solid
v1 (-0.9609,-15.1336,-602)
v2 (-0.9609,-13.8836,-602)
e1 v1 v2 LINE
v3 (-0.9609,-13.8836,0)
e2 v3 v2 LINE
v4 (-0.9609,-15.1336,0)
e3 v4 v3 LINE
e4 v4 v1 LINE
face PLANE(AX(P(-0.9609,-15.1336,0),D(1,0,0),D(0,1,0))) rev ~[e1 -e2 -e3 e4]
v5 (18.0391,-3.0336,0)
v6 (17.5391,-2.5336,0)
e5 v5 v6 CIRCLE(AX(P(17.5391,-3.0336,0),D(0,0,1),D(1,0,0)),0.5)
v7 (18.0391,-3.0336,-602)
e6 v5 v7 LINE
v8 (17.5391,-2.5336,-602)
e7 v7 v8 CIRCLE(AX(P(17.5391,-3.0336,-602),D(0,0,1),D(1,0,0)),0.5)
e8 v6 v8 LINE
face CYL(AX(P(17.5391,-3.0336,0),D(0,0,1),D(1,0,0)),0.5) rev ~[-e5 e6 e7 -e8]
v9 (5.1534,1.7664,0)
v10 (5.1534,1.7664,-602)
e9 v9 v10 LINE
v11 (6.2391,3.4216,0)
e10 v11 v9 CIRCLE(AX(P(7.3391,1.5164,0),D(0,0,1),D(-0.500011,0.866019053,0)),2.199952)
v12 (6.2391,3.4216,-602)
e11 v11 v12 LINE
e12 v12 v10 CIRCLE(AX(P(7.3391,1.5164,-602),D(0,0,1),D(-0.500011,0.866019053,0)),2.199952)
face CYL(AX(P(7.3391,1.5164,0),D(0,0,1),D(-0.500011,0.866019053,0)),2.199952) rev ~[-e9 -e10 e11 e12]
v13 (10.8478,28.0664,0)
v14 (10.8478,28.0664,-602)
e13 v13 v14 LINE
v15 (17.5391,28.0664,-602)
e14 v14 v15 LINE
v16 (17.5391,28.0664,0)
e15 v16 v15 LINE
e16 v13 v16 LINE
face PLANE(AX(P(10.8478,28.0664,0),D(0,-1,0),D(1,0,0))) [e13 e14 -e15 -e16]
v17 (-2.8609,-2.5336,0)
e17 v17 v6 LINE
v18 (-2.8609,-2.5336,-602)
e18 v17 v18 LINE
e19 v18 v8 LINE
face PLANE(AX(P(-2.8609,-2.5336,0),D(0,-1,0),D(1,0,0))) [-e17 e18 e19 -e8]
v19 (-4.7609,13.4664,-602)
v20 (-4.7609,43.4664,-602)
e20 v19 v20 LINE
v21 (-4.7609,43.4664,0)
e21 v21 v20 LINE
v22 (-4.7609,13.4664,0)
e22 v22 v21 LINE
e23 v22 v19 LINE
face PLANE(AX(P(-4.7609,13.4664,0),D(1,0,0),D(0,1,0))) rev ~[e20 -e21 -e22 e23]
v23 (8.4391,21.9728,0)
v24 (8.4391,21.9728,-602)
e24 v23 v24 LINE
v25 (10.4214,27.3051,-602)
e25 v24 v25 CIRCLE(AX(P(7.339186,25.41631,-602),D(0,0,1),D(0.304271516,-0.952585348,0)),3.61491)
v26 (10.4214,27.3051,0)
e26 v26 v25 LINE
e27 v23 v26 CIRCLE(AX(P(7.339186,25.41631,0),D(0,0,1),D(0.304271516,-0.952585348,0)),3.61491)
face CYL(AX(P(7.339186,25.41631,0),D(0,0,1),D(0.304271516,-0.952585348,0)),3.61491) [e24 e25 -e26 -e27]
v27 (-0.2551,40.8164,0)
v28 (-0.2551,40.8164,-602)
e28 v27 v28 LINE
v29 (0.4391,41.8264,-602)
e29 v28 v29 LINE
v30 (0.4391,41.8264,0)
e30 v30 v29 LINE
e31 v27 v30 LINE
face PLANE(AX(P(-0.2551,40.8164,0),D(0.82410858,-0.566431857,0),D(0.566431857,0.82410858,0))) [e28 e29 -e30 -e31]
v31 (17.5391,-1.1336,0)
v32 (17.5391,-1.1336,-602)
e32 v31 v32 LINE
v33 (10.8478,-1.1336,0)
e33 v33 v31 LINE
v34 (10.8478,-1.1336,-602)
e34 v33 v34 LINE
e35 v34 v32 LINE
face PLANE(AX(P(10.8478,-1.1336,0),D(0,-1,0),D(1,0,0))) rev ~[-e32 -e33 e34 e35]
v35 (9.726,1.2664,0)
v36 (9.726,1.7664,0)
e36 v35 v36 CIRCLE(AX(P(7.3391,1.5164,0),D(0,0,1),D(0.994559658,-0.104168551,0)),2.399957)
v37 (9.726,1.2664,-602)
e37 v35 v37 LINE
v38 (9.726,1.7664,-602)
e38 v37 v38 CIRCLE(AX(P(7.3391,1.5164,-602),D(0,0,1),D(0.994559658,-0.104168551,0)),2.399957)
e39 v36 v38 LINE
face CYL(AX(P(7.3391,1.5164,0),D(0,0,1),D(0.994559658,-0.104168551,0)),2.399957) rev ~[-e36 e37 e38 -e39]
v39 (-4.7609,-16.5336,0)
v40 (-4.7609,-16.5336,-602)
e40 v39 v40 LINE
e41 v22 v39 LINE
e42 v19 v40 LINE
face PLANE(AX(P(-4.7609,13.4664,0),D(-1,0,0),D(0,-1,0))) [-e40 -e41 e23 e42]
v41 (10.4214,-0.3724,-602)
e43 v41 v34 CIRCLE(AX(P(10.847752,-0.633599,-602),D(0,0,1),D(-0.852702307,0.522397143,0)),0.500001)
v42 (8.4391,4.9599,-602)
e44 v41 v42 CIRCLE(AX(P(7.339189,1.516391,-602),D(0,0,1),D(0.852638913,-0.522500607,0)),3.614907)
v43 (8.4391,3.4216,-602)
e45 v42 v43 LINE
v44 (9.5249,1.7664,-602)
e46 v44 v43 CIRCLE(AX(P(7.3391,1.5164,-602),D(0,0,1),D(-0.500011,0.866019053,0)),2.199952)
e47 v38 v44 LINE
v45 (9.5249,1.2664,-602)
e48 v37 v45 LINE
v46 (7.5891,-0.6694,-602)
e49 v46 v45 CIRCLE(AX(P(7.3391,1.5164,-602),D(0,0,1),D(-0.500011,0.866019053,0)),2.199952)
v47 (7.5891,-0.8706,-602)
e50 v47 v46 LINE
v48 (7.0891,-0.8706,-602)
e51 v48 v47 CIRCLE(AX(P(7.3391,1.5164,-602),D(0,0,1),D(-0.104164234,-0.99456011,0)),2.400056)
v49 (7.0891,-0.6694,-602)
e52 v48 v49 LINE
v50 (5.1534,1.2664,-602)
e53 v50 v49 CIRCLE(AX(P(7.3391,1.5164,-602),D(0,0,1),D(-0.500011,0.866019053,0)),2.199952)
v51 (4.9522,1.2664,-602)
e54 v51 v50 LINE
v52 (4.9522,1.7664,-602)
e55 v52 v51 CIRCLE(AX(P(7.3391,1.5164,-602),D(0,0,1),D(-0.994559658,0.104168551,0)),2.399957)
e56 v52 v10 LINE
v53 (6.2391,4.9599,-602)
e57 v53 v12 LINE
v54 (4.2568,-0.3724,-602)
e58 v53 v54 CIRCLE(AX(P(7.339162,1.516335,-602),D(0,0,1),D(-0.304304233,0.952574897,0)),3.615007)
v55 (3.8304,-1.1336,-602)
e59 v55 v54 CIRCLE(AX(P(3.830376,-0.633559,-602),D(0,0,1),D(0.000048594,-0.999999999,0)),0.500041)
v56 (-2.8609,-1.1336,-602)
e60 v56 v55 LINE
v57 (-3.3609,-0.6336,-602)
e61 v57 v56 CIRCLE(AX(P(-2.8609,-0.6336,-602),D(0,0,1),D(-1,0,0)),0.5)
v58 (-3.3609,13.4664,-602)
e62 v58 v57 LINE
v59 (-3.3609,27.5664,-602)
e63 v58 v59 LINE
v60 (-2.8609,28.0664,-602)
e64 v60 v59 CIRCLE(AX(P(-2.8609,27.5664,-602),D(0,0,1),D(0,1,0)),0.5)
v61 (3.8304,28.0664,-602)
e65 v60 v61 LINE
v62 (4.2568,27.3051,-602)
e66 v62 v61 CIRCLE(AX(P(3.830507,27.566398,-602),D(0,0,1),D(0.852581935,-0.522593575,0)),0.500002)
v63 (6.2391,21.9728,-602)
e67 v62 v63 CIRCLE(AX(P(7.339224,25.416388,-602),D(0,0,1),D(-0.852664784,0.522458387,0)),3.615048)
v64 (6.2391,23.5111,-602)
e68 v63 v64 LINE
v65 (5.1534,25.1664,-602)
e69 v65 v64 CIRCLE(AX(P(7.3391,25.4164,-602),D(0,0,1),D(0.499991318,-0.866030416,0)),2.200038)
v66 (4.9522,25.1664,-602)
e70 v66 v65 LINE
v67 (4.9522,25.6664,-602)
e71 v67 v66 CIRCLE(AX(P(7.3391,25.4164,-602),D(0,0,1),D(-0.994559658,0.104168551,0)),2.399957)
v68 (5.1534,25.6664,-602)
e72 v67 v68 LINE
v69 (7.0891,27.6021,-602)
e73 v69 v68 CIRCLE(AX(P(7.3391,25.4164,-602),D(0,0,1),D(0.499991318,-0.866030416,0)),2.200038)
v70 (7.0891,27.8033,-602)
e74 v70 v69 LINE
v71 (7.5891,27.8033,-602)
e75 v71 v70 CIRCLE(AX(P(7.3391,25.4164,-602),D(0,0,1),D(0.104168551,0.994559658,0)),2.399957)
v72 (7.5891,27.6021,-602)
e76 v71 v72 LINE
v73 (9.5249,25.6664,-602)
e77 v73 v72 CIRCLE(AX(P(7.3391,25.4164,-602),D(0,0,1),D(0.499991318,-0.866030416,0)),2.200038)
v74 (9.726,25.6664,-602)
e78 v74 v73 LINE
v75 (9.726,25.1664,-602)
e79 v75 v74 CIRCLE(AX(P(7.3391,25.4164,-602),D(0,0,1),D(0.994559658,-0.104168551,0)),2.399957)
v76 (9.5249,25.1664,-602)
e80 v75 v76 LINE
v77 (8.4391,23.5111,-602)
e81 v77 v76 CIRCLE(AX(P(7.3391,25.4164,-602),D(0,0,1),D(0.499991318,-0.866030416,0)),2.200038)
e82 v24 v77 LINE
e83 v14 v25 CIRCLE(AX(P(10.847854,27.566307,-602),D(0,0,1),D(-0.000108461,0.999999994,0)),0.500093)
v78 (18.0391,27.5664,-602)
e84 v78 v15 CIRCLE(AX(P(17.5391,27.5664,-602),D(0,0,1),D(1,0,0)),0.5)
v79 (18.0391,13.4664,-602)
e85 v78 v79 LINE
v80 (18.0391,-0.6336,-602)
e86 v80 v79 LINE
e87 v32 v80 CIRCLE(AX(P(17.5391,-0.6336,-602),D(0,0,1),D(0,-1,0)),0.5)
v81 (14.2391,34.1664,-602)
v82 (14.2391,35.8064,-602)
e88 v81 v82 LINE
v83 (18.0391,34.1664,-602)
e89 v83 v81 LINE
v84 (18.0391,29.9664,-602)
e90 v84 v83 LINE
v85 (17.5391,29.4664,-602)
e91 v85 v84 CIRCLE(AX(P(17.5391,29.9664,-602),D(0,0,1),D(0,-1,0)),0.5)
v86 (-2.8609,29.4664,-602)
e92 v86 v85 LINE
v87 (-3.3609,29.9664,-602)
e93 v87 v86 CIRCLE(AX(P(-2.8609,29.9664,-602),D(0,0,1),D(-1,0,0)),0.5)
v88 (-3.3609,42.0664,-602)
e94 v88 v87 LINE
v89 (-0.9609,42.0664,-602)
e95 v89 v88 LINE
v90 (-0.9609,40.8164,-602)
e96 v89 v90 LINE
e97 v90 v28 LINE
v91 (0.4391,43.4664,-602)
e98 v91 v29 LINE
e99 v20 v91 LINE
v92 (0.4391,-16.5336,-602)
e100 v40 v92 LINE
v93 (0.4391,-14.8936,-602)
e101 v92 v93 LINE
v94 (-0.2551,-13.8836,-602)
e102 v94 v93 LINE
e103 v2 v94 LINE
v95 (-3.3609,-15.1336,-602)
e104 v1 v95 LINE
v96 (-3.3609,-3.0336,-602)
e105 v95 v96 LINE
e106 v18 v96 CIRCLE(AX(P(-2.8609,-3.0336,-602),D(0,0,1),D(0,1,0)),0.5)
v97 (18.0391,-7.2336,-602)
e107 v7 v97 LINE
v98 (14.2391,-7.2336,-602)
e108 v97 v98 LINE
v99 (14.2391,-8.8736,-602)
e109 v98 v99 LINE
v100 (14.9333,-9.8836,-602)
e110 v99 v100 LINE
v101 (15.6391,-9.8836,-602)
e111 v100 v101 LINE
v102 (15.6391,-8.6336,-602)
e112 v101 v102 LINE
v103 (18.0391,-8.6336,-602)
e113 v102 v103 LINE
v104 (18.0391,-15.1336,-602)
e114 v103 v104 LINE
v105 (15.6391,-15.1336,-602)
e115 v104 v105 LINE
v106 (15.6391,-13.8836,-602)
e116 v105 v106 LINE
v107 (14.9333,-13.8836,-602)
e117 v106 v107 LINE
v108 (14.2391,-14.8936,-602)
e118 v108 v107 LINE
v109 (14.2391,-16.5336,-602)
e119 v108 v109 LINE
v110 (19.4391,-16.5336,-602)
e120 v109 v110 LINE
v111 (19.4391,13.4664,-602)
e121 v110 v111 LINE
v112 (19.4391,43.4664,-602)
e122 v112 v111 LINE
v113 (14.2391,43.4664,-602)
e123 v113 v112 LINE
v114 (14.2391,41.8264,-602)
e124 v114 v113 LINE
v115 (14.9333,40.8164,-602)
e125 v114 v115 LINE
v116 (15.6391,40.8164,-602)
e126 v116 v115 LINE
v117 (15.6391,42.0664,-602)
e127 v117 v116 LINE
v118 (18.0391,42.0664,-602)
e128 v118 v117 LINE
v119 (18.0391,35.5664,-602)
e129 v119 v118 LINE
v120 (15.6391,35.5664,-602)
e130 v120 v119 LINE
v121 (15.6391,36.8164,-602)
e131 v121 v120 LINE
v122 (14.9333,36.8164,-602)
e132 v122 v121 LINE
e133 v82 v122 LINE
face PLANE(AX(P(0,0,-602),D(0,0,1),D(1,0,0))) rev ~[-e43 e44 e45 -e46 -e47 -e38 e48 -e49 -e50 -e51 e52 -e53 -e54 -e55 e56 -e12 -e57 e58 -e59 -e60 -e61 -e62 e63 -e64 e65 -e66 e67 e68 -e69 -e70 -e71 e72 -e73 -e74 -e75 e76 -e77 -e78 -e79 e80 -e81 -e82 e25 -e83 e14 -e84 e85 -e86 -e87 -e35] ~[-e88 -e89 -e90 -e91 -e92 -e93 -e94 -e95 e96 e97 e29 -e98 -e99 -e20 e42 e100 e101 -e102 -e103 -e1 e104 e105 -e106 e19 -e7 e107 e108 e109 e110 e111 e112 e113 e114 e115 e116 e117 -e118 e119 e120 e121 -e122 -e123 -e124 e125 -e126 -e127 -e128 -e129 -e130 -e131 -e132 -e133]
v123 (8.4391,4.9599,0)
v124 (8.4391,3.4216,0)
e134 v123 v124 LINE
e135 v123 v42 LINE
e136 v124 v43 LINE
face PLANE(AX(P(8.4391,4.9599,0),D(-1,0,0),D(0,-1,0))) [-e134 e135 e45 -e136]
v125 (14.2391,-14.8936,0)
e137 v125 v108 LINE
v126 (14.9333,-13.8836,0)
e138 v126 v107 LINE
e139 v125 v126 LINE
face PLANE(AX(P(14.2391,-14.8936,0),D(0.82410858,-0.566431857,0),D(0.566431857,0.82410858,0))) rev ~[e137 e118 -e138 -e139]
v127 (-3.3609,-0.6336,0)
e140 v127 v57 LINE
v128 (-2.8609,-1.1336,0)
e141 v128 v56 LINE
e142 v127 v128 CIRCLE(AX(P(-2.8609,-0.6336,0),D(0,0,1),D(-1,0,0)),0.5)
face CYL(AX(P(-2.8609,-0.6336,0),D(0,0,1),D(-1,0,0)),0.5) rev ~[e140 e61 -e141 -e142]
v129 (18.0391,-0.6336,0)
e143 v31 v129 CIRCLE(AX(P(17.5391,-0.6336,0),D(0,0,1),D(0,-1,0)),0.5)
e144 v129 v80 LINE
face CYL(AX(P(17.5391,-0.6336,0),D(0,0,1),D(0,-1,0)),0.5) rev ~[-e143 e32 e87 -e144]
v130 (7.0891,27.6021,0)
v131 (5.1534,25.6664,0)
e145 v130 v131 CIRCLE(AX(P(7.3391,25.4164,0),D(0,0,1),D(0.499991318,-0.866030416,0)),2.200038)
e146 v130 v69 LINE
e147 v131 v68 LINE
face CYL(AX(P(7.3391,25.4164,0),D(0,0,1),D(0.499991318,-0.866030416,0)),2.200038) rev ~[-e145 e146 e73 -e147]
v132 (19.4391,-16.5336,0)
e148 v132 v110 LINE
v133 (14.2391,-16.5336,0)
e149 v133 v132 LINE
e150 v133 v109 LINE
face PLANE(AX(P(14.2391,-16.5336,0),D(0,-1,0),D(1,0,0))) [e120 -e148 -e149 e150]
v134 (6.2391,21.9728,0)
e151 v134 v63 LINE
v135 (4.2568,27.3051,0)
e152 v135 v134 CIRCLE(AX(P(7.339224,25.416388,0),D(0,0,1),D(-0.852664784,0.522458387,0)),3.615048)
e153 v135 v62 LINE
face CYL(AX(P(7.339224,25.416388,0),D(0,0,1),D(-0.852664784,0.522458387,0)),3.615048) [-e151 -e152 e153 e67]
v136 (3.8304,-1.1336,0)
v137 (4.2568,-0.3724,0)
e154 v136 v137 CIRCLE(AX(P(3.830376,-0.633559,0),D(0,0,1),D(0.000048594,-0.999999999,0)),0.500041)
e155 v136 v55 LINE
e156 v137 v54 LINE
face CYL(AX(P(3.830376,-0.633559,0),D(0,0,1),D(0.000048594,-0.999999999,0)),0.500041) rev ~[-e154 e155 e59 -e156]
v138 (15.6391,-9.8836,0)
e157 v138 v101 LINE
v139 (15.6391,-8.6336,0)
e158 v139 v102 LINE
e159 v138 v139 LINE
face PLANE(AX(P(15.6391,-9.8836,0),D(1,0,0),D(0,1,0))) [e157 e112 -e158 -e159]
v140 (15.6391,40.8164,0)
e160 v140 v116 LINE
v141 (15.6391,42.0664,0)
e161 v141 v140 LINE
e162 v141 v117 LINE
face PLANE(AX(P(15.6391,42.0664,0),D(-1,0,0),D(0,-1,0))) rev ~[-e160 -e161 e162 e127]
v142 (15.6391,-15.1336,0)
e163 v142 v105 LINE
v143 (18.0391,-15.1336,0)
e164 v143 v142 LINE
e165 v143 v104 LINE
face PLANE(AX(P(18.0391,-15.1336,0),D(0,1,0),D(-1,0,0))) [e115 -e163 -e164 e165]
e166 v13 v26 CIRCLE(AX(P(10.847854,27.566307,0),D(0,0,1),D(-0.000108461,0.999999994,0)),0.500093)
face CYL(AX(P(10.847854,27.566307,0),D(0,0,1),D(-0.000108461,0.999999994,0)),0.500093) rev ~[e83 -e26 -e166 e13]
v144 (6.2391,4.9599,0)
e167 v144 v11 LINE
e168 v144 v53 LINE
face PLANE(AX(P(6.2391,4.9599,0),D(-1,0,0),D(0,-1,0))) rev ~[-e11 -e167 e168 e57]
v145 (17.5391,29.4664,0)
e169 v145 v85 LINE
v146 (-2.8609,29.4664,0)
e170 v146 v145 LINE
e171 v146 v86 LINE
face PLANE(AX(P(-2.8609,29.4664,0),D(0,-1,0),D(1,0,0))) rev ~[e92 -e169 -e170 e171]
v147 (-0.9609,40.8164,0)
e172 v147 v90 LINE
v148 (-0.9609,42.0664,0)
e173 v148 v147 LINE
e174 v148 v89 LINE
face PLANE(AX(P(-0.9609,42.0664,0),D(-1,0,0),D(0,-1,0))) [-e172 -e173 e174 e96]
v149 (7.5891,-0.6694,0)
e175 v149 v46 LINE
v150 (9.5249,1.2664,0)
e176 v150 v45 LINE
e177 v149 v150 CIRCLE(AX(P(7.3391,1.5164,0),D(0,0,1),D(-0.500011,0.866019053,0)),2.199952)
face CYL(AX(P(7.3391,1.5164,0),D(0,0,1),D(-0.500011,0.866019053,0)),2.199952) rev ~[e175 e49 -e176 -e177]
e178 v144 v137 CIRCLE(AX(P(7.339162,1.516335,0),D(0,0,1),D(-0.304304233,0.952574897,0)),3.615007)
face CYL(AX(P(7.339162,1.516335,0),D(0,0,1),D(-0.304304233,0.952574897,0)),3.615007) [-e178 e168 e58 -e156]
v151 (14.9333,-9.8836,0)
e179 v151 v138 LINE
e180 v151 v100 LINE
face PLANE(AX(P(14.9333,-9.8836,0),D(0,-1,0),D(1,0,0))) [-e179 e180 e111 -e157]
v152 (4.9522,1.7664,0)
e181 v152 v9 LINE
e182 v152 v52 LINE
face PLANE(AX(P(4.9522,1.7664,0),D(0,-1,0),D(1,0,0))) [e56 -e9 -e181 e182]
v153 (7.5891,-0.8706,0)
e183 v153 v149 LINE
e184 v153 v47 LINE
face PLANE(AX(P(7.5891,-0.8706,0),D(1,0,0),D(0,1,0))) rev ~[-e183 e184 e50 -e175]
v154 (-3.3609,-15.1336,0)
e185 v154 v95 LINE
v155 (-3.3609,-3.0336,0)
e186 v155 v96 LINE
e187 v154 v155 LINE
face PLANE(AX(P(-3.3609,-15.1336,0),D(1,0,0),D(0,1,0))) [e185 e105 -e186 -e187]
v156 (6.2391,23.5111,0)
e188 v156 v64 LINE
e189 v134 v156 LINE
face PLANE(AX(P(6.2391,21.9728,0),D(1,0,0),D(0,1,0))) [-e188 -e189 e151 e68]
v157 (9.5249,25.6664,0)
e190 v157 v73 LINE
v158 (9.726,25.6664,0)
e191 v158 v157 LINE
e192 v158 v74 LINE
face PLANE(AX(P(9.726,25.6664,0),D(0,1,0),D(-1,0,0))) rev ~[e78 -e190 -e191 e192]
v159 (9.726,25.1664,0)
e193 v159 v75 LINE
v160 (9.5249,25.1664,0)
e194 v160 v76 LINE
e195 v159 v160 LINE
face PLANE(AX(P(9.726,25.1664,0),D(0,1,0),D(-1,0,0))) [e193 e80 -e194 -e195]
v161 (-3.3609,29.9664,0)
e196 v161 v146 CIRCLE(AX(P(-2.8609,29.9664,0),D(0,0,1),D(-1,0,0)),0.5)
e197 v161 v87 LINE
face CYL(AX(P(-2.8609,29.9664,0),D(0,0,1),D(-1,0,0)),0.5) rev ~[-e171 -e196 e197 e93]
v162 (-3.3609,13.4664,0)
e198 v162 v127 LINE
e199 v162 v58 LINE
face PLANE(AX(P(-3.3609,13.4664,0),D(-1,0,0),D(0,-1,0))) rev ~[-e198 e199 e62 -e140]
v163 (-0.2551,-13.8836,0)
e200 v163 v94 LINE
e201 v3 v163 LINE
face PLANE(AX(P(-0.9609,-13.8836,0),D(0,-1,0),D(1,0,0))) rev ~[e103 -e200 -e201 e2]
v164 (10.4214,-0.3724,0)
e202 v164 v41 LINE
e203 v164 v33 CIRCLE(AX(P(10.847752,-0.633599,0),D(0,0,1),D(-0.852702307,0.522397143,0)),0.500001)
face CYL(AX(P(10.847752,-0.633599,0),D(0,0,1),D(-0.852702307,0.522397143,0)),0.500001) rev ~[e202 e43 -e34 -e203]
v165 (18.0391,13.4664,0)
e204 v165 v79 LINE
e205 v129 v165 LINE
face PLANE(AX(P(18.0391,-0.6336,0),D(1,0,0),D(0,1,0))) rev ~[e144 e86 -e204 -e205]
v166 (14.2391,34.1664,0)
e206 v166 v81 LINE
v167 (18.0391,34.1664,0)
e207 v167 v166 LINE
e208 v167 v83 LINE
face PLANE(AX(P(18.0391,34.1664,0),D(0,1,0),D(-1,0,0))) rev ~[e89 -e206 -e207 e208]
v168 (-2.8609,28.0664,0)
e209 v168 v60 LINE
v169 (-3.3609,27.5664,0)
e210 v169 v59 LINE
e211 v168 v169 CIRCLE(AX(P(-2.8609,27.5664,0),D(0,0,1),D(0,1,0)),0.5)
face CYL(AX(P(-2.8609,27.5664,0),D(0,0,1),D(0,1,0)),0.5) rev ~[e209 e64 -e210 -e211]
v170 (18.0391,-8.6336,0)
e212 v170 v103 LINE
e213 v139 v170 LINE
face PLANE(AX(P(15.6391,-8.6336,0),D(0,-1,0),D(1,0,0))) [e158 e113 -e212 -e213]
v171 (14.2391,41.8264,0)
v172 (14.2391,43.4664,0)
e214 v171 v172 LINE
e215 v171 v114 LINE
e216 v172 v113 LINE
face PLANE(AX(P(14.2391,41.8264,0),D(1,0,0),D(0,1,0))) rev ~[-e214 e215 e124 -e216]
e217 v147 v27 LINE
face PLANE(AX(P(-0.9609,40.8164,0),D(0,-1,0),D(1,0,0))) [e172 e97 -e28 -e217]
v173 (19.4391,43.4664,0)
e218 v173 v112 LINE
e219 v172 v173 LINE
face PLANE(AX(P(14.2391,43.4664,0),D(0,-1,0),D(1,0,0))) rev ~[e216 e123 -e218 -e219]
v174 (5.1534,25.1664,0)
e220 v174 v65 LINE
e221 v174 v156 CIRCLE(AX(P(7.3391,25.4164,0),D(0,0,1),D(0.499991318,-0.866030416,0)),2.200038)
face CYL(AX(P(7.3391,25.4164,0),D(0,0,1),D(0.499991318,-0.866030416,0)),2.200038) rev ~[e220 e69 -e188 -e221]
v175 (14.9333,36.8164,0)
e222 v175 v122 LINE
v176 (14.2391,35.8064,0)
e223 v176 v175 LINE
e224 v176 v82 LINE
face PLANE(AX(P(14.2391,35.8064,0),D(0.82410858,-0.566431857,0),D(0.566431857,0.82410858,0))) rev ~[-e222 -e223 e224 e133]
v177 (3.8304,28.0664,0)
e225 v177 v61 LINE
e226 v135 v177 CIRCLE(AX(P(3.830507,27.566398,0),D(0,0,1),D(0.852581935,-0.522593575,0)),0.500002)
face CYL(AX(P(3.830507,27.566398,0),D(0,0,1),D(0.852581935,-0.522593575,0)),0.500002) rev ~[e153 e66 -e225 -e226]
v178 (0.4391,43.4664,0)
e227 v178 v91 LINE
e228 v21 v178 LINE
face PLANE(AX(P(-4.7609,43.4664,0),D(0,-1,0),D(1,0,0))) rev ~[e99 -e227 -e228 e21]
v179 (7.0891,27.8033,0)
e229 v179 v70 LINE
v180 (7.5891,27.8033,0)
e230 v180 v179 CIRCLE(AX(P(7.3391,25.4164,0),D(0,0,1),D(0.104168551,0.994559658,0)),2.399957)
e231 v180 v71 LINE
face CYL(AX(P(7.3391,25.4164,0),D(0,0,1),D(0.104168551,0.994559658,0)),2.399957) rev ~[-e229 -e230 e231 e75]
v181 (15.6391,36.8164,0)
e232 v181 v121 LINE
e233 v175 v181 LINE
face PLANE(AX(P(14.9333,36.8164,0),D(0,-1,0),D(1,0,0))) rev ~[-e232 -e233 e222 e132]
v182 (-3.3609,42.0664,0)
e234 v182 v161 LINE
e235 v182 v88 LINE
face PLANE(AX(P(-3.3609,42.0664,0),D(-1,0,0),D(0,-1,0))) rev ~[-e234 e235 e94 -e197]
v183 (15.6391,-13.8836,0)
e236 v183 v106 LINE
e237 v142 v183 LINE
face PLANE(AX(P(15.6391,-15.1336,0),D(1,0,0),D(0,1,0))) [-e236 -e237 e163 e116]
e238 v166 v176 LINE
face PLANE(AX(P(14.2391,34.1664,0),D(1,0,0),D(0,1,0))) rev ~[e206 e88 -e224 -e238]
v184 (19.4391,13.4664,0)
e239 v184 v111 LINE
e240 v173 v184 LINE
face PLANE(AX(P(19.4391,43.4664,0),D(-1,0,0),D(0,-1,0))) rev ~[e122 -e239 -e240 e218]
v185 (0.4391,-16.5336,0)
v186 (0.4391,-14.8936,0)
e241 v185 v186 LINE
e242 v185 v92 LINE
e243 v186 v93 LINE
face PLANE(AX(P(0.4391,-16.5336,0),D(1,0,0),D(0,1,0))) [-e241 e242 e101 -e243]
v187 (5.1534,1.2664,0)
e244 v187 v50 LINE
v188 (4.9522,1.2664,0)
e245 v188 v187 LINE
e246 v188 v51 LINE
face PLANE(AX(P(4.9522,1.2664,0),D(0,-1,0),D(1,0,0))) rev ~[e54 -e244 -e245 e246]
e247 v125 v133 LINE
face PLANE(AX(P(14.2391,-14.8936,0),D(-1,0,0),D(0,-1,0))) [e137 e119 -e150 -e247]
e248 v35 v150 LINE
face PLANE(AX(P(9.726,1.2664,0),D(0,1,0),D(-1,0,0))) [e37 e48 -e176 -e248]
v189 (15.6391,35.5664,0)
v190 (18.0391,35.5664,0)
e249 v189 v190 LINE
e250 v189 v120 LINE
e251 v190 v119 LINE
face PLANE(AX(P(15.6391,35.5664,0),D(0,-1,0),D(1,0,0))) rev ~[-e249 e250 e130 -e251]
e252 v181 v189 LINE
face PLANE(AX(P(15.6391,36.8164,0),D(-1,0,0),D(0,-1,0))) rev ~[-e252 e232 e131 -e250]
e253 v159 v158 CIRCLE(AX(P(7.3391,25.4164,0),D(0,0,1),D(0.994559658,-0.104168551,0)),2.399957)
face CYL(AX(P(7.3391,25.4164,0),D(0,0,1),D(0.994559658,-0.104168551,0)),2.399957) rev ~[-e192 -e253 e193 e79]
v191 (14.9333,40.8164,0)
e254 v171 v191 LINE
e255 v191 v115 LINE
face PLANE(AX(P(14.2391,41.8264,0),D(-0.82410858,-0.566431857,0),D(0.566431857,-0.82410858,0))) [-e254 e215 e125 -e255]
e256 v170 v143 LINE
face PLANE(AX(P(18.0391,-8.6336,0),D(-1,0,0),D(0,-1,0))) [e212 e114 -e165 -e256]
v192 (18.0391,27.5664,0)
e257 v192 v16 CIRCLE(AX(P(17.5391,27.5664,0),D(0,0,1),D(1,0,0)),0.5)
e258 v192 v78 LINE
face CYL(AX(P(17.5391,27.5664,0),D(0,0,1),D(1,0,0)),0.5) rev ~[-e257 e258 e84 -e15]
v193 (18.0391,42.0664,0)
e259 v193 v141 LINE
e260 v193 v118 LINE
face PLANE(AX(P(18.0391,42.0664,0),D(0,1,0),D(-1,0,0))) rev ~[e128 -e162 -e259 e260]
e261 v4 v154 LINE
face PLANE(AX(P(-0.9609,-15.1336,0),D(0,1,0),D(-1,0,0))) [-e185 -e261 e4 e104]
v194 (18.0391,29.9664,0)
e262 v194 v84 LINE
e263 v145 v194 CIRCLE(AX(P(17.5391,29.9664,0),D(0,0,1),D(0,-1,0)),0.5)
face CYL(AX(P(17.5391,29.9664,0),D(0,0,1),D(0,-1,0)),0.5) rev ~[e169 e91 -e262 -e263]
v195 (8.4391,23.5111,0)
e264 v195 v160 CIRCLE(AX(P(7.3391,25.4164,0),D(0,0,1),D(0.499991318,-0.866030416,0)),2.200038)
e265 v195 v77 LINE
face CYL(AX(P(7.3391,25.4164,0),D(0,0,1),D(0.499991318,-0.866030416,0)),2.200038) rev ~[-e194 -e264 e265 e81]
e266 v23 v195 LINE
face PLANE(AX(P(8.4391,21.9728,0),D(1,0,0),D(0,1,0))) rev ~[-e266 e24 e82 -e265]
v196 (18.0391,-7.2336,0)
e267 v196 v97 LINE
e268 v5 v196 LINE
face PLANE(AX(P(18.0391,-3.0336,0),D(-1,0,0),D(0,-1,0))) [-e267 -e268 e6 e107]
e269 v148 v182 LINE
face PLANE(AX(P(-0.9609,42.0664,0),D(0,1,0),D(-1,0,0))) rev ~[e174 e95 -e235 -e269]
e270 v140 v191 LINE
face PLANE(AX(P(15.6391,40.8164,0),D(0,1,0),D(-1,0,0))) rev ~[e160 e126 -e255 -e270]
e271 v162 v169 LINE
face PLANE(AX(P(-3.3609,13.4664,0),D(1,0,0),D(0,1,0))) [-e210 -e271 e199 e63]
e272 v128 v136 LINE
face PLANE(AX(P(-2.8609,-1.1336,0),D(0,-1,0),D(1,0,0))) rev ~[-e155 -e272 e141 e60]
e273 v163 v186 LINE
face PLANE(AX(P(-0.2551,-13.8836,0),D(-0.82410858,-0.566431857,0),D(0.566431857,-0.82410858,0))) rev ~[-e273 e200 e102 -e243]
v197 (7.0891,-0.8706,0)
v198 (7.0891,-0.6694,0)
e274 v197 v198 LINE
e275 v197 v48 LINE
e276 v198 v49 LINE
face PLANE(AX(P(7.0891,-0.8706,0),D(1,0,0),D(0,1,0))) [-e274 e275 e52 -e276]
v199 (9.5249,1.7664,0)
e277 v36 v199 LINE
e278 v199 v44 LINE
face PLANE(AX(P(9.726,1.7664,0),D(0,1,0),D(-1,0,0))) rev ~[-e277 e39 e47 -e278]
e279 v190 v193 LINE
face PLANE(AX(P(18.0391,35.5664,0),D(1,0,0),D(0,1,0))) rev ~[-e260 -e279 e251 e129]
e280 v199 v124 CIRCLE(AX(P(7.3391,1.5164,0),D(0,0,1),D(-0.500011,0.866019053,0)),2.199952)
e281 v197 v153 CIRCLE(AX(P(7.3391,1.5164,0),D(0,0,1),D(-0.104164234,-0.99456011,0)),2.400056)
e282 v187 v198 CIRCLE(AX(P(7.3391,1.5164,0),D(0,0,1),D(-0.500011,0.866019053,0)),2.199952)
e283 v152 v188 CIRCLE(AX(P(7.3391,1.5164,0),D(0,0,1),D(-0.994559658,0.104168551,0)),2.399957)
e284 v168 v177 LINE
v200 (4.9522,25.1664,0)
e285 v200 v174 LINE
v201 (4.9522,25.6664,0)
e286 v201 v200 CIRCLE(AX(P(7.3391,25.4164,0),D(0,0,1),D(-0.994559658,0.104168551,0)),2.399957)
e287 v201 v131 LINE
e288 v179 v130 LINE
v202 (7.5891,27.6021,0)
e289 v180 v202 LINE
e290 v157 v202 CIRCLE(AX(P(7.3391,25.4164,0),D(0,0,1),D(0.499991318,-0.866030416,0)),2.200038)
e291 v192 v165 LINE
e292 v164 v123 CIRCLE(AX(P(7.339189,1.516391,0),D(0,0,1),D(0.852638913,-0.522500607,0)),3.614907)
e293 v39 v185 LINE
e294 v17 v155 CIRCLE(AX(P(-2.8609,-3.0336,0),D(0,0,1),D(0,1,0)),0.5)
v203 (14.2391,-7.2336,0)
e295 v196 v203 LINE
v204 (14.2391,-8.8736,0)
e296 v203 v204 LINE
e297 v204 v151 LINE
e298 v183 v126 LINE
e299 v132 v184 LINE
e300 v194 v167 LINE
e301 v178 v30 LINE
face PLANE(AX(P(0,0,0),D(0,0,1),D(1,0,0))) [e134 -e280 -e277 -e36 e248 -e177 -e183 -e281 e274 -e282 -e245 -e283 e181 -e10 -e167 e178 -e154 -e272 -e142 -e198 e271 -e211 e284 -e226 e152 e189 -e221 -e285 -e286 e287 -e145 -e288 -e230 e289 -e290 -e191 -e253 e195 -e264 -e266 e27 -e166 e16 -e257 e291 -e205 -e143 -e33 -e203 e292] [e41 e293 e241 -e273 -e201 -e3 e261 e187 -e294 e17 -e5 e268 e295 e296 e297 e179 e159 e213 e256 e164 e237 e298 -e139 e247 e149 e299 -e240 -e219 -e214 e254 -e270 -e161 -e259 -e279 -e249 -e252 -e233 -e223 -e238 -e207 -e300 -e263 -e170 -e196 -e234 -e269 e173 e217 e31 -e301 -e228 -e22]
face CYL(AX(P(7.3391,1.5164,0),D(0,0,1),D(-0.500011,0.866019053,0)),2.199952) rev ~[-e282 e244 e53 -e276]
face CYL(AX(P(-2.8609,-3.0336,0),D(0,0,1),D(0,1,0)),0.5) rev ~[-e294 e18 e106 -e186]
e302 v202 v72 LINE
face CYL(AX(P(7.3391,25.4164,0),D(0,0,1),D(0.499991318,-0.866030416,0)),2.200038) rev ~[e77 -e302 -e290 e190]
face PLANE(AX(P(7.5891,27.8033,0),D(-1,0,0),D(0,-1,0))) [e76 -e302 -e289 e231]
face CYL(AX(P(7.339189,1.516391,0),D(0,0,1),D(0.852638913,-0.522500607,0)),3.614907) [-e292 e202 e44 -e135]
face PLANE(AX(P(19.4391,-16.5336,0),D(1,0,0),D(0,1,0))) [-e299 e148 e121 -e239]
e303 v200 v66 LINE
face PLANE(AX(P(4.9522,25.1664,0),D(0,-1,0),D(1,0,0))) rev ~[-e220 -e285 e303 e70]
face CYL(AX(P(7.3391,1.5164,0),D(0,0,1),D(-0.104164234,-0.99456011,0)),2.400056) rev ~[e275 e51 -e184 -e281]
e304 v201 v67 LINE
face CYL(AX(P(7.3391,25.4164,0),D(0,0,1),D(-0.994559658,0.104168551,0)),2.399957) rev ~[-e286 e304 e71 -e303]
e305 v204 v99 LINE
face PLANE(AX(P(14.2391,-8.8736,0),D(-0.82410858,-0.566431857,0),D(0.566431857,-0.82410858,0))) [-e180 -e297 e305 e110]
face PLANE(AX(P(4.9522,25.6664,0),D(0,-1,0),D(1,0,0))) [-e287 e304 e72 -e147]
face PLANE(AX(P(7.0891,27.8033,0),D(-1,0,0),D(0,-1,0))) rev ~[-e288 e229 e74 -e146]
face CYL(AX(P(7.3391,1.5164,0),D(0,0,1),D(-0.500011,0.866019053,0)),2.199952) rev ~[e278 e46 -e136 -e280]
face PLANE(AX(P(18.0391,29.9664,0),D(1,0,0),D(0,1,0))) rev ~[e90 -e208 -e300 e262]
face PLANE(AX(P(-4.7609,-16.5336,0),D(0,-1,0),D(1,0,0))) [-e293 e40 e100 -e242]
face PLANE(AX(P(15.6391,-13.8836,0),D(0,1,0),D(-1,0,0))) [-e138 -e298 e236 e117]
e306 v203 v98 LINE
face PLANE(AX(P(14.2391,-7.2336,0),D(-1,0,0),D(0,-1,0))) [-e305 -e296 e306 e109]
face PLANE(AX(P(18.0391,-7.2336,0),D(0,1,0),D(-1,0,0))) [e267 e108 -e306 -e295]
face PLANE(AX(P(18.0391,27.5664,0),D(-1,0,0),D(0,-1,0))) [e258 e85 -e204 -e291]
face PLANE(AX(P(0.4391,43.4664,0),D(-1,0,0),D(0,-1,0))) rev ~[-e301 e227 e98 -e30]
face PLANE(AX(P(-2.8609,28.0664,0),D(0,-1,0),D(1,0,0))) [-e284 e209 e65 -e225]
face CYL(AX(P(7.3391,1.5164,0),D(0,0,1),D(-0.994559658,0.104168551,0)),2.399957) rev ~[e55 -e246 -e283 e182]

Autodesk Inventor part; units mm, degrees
ref_plane "YZ Plane" through (0, 0, 0) normal (1, 0, 0) x (0, 1, 0)
ref_plane "XZ Plane" through (0, 0, 0) normal (0, 1, 0) x (-1, 0, 0)
ref_plane "XY Plane" through (0, 0, 0) normal (0, 0, 1) x (1, 0, 0)
sketch "Boceto1" plane through (0, 0, 0) normal (0, 0, 1) x (1, 0, 0)
  line L0 (-4.7609, 13.4664) -> (-4.7609, -16.5336)
  line L1 (-4.7609, -16.5336) -> (0.4391, -16.5336)
  line L2 (0.4391, -16.5336) -> (0.4391, -14.8936)
  line L3 (-0.9609, -15.1336) -> (-3.3609, -15.1336)
  line L4 (-3.3609, -15.1336) -> (-3.3609, -3.0336)
  line L5 (-2.8609, -2.5336) -> (17.5391, -2.5336)
  line L6 (18.0391, -3.0336) -> (18.0391, -7.2336)
  line L7 (18.0391, -7.2336) -> (14.2391, -7.2336)
  line L8 (14.2391, -7.2336) -> (14.2391, -8.8736)
  line L9 (14.9333, -9.8836) -> (15.6391, -9.8836)
  line L10 (15.6391, -9.8836) -> (15.6391, -8.6336)
  line L11 (15.6391, -8.6336) -> (18.0391, -8.6336)
  line L12 (18.0391, -8.6336) -> (18.0391, -15.1336)
  line L13 (18.0391, -15.1336) -> (15.6391, -15.1336)
  line L14 (15.6391, -15.1336) -> (15.6391, -13.8836)
  line L15 (15.6391, -13.8836) -> (14.9333, -13.8836)
  line L16 (14.2391, -14.8936) -> (14.2391, -16.5336)
  line L17 (14.2391, -16.5336) -> (19.4391, -16.5336)
  line L18 (19.4391, -16.5336) -> (19.4391, 13.4664)
  line L19 (-3.3609, 13.4664) -> (-3.3609, -0.6336)
  line L20 (18.0391, -0.6336) -> (18.0391, 13.4664)
  line L21 (7.3391, 11.7517) -> (7.3391, -2.5336) construction
  arc A0 (6.2391, 3.4216) -> (8.4391, 3.4216) centre (7.3391, 1.5164) ccw
  line L22 (-8.4881, 13.4664) -> (24.4446, 13.4664) construction
  line L23 (4.9522, 1.2664) -> (5.1534, 1.2664)
  line L24 (4.9522, 1.7664) -> (5.1534, 1.7664)
  line L25 (-2.8609, -1.1336) -> (3.8304, -1.1336)
  line L26 (10.8478, -1.1336) -> (17.5391, -1.1336)
  line L27 (4.0797, 1.5164) -> (9.7739, 1.5164) construction
  line L28 (9.726, 1.2664) -> (9.5249, 1.2664)
  line L29 (9.726, 1.7664) -> (9.5249, 1.7664)
  line L30 (7.5891, -0.8706) -> (7.5891, -0.6694)
  line L31 (7.0891, -0.8706) -> (7.0891, -0.6694)
  arc A1 (7.0891, -0.8706) -> (7.5891, -0.8706) centre (7.3391, 1.5164) ccw
  arc A2 (9.726, 1.2664) -> (9.726, 1.7664) centre (7.3391, 1.5164) ccw
  arc A3 (4.9522, 1.7664) -> (4.9522, 1.2664) centre (7.3391, 1.5164) ccw
  circle A4 centre (7.3391, 1.5164) radius 2.4 construction
  line L32 (6.2391, 4.9599) -> (6.2391, 3.4216)
  line L33 (8.4391, 4.9599) -> (8.4391, 3.4216)
  arc A5 (10.4214, -0.3724) -> (8.4391, 4.9599) centre (7.3391, 1.5164) ccw
  arc A6 (6.2391, 4.9599) -> (4.2568, -0.3724) centre (7.3391, 1.5164) ccw
  line L34 (-0.9609, -15.1336) -> (-0.9609, -13.8836)
  line L35 (-0.9609, -13.8836) -> (-0.2551, -13.8836)
  line L36 (-0.2551, -13.8836) -> (0.4391, -14.8936)
  line L37 (14.2391, -8.8736) -> (14.9333, -9.8836)
  line L38 (14.2391, -14.8936) -> (14.9333, -13.8836)
  arc A7 (-2.8609, -2.5336) -> (-3.3609, -3.0336) centre (-2.8609, -3.0336) ccw
  arc A8 (-3.3609, -0.6336) -> (-2.8609, -1.1336) centre (-2.8609, -0.6336) ccw
  arc A9 (17.5391, -1.1336) -> (18.0391, -0.6336) centre (17.5391, -0.6336) ccw
  arc A10 (18.0391, -3.0336) -> (17.5391, -2.5336) centre (17.5391, -3.0336) ccw
  arc A11 (3.8304, -1.1336) -> (4.2568, -0.3724) centre (3.8304, -0.6336) ccw
  arc A12 (10.4214, -0.3724) -> (10.8478, -1.1336) centre (10.8478, -0.6336) ccw
  line L39 (-4.7609, 13.4664) -> (-4.7609, 43.4664)
  line L40 (-4.7609, 43.4664) -> (0.4391, 43.4664)
  line L41 (0.4391, 43.4664) -> (0.4391, 41.8264)
  line L42 (-0.9609, 42.0664) -> (-3.3609, 42.0664)
  line L43 (-3.3609, 42.0664) -> (-3.3609, 29.9664)
  line L44 (-2.8609, 29.4664) -> (17.5391, 29.4664)
  line L45 (18.0391, 29.9664) -> (18.0391, 34.1664)
  line L46 (18.0391, 34.1664) -> (14.2391, 34.1664)
  line L47 (14.2391, 34.1664) -> (14.2391, 35.8064)
  line L48 (14.9333, 36.8164) -> (15.6391, 36.8164)
  line L49 (15.6391, 36.8164) -> (15.6391, 35.5664)
  line L50 (15.6391, 35.5664) -> (18.0391, 35.5664)
  line L51 (18.0391, 35.5664) -> (18.0391, 42.0664)
  line L52 (18.0391, 42.0664) -> (15.6391, 42.0664)
  line L53 (15.6391, 42.0664) -> (15.6391, 40.8164)
  line L54 (15.6391, 40.8164) -> (14.9333, 40.8164)
  line L55 (14.2391, 41.8264) -> (14.2391, 43.4664)
  line L56 (14.2391, 43.4664) -> (19.4391, 43.4664)
  line L57 (19.4391, 43.4664) -> (19.4391, 13.4664)
  line L58 (-3.3609, 13.4664) -> (-3.3609, 27.5664)
  line L59 (18.0391, 27.5664) -> (18.0391, 13.4664)
  line L60 (7.3391, 15.181) -> (7.3391, 29.4664) construction
  arc A13 (8.4391, 23.5111) -> (6.2391, 23.5111) centre (7.3391, 25.4164) ccw
  line L61 (4.9522, 25.6664) -> (5.1534, 25.6664)
  line L62 (4.9522, 25.1664) -> (5.1534, 25.1664)
  line L63 (-2.8609, 28.0664) -> (3.8304, 28.0664)
  line L64 (10.8478, 28.0664) -> (17.5391, 28.0664)
  line L65 (4.0797, 25.4164) -> (9.7739, 25.4164) construction
  line L66 (9.726, 25.6664) -> (9.5249, 25.6664)
  line L67 (9.726, 25.1664) -> (9.5249, 25.1664)
  line L68 (7.5891, 27.8033) -> (7.5891, 27.6021)
  line L69 (7.0891, 27.8033) -> (7.0891, 27.6021)
  arc A14 (7.5891, 27.8033) -> (7.0891, 27.8033) centre (7.3391, 25.4164) ccw
  arc A15 (9.726, 25.1664) -> (9.726, 25.6664) centre (7.3391, 25.4164) ccw
  arc A16 (4.9522, 25.6664) -> (4.9522, 25.1664) centre (7.3391, 25.4164) ccw
  circle A17 centre (7.3391, 25.4164) radius 2.4 construction
  line L70 (6.2391, 21.9728) -> (6.2391, 23.5111)
  line L71 (8.4391, 21.9728) -> (8.4391, 23.5111)
  arc A18 (8.4391, 21.9728) -> (10.4214, 27.3051) centre (7.3391, 25.4164) ccw
  arc A19 (4.2568, 27.3051) -> (6.2391, 21.9728) centre (7.3391, 25.4164) ccw
  line L72 (-0.9609, 42.0664) -> (-0.9609, 40.8164)
  line L73 (-0.9609, 40.8164) -> (-0.2551, 40.8164)
  line L74 (-0.2551, 40.8164) -> (0.4391, 41.8264)
  line L75 (14.2391, 35.8064) -> (14.9333, 36.8164)
  line L76 (14.2391, 41.8264) -> (14.9333, 40.8164)
  arc A20 (-3.3609, 29.9664) -> (-2.8609, 29.4664) centre (-2.8609, 29.9664) ccw
  arc A21 (-2.8609, 28.0664) -> (-3.3609, 27.5664) centre (-2.8609, 27.5664) ccw
  arc A22 (18.0391, 27.5664) -> (17.5391, 28.0664) centre (17.5391, 27.5664) ccw
  arc A23 (17.5391, 29.4664) -> (18.0391, 29.9664) centre (17.5391, 29.9664) ccw
  arc A24 (4.2568, 27.3051) -> (3.8304, 28.0664) centre (3.8304, 27.5664) ccw
  arc A25 (10.8478, 28.0664) -> (10.4214, 27.3051) centre (10.8478, 27.5664) ccw
  point P0 (4.8803, -1.1336)
  point P1 (9.7979, -1.1336)
  point P2 (7.3391, -2.5336)
  point P3 (18.0391, -11.8836)
  point P4 (4.8803, 28.0664)
  point P5 (9.7979, 28.0664)
  point P6 (7.3391, 29.4664)
  point P7 (18.0391, 38.8164)
  dimension "d0" = 1.4
  dimension "d1" = 1.4
  dimension "d2" = 1.4
  dimension "d3" = 1.4
  dimension "d4" = 1.4
  dimension "d5" = 1.4
  dimension "d6" = 1.4
  dimension "d7" = 1.4
  dimension "d8" = 1.4
  dimension "d9" = 1.4
  dimension "d12" = 4.4
  dimension "d19" = 0.5
  dimension "d22" = 4.05
  dimension "d24" = 0.25
  dimension "d25" = 0.25
  dimension "d26" = 0.5
  dimension "d30" = 0.5
  dimension "d32" = 4.8
  dimension "d35" = 1.1
  dimension "d36" = 2.2
  dimension "d37" = 1.415
  dimension "d38" = 1.415
  dimension "d39" = 0.2
  dimension "d40" = 0.2
  dimension "d42" = 30
  dimension "d43" = 14
  dimension "d44" = 4
  dimension "d45" = 9.3
  dimension "d46" = 6.5
  dimension "d47" = 24.2
  dimension "d48" = 5.2
  dimension "d49" = 1.4
  dimension "d50" = 5.2
  dimension "d51" = 13.8
  dimension "d52" = 21.4
  dimension "d53" = 0.2
  dimension "d55" = 0.2
  dimension "d56" = 0.25
  dimension "d57" = 0.2
  dimension "d58" = 1.4
  dimension "d62" = 1.4
  dimension "d63" = 2.65
  dimension "d64" = 1.64
  dimension "d65" = 34.5
  dimension "d66" = 2
  dimension "d67" = 2
  dimension "d68" = 2.4
  dimension "d69" = 3.01
  dimension "d70" = 6.02
  dimension "d71" = 34.5
  dimension "d72" = 111
  dimension "d74" = 0.7058
  dimension "d75" = 0.7058
  dimension "d82" = 9.6652
  dimension "d83" = 25.6354
  dimension "d84" = 15.3594
  dimension "d86" = 0.5
  dimension "d87" = 0.5
  dimension "d88" = 60
  dimension "d89" = 30.6
extrude "Extrusión1" add sketch "Boceto1" against normal blind 602
properties part number "SP40-04A TRAVESAÑO CENTRAL" material "Aluminio"
